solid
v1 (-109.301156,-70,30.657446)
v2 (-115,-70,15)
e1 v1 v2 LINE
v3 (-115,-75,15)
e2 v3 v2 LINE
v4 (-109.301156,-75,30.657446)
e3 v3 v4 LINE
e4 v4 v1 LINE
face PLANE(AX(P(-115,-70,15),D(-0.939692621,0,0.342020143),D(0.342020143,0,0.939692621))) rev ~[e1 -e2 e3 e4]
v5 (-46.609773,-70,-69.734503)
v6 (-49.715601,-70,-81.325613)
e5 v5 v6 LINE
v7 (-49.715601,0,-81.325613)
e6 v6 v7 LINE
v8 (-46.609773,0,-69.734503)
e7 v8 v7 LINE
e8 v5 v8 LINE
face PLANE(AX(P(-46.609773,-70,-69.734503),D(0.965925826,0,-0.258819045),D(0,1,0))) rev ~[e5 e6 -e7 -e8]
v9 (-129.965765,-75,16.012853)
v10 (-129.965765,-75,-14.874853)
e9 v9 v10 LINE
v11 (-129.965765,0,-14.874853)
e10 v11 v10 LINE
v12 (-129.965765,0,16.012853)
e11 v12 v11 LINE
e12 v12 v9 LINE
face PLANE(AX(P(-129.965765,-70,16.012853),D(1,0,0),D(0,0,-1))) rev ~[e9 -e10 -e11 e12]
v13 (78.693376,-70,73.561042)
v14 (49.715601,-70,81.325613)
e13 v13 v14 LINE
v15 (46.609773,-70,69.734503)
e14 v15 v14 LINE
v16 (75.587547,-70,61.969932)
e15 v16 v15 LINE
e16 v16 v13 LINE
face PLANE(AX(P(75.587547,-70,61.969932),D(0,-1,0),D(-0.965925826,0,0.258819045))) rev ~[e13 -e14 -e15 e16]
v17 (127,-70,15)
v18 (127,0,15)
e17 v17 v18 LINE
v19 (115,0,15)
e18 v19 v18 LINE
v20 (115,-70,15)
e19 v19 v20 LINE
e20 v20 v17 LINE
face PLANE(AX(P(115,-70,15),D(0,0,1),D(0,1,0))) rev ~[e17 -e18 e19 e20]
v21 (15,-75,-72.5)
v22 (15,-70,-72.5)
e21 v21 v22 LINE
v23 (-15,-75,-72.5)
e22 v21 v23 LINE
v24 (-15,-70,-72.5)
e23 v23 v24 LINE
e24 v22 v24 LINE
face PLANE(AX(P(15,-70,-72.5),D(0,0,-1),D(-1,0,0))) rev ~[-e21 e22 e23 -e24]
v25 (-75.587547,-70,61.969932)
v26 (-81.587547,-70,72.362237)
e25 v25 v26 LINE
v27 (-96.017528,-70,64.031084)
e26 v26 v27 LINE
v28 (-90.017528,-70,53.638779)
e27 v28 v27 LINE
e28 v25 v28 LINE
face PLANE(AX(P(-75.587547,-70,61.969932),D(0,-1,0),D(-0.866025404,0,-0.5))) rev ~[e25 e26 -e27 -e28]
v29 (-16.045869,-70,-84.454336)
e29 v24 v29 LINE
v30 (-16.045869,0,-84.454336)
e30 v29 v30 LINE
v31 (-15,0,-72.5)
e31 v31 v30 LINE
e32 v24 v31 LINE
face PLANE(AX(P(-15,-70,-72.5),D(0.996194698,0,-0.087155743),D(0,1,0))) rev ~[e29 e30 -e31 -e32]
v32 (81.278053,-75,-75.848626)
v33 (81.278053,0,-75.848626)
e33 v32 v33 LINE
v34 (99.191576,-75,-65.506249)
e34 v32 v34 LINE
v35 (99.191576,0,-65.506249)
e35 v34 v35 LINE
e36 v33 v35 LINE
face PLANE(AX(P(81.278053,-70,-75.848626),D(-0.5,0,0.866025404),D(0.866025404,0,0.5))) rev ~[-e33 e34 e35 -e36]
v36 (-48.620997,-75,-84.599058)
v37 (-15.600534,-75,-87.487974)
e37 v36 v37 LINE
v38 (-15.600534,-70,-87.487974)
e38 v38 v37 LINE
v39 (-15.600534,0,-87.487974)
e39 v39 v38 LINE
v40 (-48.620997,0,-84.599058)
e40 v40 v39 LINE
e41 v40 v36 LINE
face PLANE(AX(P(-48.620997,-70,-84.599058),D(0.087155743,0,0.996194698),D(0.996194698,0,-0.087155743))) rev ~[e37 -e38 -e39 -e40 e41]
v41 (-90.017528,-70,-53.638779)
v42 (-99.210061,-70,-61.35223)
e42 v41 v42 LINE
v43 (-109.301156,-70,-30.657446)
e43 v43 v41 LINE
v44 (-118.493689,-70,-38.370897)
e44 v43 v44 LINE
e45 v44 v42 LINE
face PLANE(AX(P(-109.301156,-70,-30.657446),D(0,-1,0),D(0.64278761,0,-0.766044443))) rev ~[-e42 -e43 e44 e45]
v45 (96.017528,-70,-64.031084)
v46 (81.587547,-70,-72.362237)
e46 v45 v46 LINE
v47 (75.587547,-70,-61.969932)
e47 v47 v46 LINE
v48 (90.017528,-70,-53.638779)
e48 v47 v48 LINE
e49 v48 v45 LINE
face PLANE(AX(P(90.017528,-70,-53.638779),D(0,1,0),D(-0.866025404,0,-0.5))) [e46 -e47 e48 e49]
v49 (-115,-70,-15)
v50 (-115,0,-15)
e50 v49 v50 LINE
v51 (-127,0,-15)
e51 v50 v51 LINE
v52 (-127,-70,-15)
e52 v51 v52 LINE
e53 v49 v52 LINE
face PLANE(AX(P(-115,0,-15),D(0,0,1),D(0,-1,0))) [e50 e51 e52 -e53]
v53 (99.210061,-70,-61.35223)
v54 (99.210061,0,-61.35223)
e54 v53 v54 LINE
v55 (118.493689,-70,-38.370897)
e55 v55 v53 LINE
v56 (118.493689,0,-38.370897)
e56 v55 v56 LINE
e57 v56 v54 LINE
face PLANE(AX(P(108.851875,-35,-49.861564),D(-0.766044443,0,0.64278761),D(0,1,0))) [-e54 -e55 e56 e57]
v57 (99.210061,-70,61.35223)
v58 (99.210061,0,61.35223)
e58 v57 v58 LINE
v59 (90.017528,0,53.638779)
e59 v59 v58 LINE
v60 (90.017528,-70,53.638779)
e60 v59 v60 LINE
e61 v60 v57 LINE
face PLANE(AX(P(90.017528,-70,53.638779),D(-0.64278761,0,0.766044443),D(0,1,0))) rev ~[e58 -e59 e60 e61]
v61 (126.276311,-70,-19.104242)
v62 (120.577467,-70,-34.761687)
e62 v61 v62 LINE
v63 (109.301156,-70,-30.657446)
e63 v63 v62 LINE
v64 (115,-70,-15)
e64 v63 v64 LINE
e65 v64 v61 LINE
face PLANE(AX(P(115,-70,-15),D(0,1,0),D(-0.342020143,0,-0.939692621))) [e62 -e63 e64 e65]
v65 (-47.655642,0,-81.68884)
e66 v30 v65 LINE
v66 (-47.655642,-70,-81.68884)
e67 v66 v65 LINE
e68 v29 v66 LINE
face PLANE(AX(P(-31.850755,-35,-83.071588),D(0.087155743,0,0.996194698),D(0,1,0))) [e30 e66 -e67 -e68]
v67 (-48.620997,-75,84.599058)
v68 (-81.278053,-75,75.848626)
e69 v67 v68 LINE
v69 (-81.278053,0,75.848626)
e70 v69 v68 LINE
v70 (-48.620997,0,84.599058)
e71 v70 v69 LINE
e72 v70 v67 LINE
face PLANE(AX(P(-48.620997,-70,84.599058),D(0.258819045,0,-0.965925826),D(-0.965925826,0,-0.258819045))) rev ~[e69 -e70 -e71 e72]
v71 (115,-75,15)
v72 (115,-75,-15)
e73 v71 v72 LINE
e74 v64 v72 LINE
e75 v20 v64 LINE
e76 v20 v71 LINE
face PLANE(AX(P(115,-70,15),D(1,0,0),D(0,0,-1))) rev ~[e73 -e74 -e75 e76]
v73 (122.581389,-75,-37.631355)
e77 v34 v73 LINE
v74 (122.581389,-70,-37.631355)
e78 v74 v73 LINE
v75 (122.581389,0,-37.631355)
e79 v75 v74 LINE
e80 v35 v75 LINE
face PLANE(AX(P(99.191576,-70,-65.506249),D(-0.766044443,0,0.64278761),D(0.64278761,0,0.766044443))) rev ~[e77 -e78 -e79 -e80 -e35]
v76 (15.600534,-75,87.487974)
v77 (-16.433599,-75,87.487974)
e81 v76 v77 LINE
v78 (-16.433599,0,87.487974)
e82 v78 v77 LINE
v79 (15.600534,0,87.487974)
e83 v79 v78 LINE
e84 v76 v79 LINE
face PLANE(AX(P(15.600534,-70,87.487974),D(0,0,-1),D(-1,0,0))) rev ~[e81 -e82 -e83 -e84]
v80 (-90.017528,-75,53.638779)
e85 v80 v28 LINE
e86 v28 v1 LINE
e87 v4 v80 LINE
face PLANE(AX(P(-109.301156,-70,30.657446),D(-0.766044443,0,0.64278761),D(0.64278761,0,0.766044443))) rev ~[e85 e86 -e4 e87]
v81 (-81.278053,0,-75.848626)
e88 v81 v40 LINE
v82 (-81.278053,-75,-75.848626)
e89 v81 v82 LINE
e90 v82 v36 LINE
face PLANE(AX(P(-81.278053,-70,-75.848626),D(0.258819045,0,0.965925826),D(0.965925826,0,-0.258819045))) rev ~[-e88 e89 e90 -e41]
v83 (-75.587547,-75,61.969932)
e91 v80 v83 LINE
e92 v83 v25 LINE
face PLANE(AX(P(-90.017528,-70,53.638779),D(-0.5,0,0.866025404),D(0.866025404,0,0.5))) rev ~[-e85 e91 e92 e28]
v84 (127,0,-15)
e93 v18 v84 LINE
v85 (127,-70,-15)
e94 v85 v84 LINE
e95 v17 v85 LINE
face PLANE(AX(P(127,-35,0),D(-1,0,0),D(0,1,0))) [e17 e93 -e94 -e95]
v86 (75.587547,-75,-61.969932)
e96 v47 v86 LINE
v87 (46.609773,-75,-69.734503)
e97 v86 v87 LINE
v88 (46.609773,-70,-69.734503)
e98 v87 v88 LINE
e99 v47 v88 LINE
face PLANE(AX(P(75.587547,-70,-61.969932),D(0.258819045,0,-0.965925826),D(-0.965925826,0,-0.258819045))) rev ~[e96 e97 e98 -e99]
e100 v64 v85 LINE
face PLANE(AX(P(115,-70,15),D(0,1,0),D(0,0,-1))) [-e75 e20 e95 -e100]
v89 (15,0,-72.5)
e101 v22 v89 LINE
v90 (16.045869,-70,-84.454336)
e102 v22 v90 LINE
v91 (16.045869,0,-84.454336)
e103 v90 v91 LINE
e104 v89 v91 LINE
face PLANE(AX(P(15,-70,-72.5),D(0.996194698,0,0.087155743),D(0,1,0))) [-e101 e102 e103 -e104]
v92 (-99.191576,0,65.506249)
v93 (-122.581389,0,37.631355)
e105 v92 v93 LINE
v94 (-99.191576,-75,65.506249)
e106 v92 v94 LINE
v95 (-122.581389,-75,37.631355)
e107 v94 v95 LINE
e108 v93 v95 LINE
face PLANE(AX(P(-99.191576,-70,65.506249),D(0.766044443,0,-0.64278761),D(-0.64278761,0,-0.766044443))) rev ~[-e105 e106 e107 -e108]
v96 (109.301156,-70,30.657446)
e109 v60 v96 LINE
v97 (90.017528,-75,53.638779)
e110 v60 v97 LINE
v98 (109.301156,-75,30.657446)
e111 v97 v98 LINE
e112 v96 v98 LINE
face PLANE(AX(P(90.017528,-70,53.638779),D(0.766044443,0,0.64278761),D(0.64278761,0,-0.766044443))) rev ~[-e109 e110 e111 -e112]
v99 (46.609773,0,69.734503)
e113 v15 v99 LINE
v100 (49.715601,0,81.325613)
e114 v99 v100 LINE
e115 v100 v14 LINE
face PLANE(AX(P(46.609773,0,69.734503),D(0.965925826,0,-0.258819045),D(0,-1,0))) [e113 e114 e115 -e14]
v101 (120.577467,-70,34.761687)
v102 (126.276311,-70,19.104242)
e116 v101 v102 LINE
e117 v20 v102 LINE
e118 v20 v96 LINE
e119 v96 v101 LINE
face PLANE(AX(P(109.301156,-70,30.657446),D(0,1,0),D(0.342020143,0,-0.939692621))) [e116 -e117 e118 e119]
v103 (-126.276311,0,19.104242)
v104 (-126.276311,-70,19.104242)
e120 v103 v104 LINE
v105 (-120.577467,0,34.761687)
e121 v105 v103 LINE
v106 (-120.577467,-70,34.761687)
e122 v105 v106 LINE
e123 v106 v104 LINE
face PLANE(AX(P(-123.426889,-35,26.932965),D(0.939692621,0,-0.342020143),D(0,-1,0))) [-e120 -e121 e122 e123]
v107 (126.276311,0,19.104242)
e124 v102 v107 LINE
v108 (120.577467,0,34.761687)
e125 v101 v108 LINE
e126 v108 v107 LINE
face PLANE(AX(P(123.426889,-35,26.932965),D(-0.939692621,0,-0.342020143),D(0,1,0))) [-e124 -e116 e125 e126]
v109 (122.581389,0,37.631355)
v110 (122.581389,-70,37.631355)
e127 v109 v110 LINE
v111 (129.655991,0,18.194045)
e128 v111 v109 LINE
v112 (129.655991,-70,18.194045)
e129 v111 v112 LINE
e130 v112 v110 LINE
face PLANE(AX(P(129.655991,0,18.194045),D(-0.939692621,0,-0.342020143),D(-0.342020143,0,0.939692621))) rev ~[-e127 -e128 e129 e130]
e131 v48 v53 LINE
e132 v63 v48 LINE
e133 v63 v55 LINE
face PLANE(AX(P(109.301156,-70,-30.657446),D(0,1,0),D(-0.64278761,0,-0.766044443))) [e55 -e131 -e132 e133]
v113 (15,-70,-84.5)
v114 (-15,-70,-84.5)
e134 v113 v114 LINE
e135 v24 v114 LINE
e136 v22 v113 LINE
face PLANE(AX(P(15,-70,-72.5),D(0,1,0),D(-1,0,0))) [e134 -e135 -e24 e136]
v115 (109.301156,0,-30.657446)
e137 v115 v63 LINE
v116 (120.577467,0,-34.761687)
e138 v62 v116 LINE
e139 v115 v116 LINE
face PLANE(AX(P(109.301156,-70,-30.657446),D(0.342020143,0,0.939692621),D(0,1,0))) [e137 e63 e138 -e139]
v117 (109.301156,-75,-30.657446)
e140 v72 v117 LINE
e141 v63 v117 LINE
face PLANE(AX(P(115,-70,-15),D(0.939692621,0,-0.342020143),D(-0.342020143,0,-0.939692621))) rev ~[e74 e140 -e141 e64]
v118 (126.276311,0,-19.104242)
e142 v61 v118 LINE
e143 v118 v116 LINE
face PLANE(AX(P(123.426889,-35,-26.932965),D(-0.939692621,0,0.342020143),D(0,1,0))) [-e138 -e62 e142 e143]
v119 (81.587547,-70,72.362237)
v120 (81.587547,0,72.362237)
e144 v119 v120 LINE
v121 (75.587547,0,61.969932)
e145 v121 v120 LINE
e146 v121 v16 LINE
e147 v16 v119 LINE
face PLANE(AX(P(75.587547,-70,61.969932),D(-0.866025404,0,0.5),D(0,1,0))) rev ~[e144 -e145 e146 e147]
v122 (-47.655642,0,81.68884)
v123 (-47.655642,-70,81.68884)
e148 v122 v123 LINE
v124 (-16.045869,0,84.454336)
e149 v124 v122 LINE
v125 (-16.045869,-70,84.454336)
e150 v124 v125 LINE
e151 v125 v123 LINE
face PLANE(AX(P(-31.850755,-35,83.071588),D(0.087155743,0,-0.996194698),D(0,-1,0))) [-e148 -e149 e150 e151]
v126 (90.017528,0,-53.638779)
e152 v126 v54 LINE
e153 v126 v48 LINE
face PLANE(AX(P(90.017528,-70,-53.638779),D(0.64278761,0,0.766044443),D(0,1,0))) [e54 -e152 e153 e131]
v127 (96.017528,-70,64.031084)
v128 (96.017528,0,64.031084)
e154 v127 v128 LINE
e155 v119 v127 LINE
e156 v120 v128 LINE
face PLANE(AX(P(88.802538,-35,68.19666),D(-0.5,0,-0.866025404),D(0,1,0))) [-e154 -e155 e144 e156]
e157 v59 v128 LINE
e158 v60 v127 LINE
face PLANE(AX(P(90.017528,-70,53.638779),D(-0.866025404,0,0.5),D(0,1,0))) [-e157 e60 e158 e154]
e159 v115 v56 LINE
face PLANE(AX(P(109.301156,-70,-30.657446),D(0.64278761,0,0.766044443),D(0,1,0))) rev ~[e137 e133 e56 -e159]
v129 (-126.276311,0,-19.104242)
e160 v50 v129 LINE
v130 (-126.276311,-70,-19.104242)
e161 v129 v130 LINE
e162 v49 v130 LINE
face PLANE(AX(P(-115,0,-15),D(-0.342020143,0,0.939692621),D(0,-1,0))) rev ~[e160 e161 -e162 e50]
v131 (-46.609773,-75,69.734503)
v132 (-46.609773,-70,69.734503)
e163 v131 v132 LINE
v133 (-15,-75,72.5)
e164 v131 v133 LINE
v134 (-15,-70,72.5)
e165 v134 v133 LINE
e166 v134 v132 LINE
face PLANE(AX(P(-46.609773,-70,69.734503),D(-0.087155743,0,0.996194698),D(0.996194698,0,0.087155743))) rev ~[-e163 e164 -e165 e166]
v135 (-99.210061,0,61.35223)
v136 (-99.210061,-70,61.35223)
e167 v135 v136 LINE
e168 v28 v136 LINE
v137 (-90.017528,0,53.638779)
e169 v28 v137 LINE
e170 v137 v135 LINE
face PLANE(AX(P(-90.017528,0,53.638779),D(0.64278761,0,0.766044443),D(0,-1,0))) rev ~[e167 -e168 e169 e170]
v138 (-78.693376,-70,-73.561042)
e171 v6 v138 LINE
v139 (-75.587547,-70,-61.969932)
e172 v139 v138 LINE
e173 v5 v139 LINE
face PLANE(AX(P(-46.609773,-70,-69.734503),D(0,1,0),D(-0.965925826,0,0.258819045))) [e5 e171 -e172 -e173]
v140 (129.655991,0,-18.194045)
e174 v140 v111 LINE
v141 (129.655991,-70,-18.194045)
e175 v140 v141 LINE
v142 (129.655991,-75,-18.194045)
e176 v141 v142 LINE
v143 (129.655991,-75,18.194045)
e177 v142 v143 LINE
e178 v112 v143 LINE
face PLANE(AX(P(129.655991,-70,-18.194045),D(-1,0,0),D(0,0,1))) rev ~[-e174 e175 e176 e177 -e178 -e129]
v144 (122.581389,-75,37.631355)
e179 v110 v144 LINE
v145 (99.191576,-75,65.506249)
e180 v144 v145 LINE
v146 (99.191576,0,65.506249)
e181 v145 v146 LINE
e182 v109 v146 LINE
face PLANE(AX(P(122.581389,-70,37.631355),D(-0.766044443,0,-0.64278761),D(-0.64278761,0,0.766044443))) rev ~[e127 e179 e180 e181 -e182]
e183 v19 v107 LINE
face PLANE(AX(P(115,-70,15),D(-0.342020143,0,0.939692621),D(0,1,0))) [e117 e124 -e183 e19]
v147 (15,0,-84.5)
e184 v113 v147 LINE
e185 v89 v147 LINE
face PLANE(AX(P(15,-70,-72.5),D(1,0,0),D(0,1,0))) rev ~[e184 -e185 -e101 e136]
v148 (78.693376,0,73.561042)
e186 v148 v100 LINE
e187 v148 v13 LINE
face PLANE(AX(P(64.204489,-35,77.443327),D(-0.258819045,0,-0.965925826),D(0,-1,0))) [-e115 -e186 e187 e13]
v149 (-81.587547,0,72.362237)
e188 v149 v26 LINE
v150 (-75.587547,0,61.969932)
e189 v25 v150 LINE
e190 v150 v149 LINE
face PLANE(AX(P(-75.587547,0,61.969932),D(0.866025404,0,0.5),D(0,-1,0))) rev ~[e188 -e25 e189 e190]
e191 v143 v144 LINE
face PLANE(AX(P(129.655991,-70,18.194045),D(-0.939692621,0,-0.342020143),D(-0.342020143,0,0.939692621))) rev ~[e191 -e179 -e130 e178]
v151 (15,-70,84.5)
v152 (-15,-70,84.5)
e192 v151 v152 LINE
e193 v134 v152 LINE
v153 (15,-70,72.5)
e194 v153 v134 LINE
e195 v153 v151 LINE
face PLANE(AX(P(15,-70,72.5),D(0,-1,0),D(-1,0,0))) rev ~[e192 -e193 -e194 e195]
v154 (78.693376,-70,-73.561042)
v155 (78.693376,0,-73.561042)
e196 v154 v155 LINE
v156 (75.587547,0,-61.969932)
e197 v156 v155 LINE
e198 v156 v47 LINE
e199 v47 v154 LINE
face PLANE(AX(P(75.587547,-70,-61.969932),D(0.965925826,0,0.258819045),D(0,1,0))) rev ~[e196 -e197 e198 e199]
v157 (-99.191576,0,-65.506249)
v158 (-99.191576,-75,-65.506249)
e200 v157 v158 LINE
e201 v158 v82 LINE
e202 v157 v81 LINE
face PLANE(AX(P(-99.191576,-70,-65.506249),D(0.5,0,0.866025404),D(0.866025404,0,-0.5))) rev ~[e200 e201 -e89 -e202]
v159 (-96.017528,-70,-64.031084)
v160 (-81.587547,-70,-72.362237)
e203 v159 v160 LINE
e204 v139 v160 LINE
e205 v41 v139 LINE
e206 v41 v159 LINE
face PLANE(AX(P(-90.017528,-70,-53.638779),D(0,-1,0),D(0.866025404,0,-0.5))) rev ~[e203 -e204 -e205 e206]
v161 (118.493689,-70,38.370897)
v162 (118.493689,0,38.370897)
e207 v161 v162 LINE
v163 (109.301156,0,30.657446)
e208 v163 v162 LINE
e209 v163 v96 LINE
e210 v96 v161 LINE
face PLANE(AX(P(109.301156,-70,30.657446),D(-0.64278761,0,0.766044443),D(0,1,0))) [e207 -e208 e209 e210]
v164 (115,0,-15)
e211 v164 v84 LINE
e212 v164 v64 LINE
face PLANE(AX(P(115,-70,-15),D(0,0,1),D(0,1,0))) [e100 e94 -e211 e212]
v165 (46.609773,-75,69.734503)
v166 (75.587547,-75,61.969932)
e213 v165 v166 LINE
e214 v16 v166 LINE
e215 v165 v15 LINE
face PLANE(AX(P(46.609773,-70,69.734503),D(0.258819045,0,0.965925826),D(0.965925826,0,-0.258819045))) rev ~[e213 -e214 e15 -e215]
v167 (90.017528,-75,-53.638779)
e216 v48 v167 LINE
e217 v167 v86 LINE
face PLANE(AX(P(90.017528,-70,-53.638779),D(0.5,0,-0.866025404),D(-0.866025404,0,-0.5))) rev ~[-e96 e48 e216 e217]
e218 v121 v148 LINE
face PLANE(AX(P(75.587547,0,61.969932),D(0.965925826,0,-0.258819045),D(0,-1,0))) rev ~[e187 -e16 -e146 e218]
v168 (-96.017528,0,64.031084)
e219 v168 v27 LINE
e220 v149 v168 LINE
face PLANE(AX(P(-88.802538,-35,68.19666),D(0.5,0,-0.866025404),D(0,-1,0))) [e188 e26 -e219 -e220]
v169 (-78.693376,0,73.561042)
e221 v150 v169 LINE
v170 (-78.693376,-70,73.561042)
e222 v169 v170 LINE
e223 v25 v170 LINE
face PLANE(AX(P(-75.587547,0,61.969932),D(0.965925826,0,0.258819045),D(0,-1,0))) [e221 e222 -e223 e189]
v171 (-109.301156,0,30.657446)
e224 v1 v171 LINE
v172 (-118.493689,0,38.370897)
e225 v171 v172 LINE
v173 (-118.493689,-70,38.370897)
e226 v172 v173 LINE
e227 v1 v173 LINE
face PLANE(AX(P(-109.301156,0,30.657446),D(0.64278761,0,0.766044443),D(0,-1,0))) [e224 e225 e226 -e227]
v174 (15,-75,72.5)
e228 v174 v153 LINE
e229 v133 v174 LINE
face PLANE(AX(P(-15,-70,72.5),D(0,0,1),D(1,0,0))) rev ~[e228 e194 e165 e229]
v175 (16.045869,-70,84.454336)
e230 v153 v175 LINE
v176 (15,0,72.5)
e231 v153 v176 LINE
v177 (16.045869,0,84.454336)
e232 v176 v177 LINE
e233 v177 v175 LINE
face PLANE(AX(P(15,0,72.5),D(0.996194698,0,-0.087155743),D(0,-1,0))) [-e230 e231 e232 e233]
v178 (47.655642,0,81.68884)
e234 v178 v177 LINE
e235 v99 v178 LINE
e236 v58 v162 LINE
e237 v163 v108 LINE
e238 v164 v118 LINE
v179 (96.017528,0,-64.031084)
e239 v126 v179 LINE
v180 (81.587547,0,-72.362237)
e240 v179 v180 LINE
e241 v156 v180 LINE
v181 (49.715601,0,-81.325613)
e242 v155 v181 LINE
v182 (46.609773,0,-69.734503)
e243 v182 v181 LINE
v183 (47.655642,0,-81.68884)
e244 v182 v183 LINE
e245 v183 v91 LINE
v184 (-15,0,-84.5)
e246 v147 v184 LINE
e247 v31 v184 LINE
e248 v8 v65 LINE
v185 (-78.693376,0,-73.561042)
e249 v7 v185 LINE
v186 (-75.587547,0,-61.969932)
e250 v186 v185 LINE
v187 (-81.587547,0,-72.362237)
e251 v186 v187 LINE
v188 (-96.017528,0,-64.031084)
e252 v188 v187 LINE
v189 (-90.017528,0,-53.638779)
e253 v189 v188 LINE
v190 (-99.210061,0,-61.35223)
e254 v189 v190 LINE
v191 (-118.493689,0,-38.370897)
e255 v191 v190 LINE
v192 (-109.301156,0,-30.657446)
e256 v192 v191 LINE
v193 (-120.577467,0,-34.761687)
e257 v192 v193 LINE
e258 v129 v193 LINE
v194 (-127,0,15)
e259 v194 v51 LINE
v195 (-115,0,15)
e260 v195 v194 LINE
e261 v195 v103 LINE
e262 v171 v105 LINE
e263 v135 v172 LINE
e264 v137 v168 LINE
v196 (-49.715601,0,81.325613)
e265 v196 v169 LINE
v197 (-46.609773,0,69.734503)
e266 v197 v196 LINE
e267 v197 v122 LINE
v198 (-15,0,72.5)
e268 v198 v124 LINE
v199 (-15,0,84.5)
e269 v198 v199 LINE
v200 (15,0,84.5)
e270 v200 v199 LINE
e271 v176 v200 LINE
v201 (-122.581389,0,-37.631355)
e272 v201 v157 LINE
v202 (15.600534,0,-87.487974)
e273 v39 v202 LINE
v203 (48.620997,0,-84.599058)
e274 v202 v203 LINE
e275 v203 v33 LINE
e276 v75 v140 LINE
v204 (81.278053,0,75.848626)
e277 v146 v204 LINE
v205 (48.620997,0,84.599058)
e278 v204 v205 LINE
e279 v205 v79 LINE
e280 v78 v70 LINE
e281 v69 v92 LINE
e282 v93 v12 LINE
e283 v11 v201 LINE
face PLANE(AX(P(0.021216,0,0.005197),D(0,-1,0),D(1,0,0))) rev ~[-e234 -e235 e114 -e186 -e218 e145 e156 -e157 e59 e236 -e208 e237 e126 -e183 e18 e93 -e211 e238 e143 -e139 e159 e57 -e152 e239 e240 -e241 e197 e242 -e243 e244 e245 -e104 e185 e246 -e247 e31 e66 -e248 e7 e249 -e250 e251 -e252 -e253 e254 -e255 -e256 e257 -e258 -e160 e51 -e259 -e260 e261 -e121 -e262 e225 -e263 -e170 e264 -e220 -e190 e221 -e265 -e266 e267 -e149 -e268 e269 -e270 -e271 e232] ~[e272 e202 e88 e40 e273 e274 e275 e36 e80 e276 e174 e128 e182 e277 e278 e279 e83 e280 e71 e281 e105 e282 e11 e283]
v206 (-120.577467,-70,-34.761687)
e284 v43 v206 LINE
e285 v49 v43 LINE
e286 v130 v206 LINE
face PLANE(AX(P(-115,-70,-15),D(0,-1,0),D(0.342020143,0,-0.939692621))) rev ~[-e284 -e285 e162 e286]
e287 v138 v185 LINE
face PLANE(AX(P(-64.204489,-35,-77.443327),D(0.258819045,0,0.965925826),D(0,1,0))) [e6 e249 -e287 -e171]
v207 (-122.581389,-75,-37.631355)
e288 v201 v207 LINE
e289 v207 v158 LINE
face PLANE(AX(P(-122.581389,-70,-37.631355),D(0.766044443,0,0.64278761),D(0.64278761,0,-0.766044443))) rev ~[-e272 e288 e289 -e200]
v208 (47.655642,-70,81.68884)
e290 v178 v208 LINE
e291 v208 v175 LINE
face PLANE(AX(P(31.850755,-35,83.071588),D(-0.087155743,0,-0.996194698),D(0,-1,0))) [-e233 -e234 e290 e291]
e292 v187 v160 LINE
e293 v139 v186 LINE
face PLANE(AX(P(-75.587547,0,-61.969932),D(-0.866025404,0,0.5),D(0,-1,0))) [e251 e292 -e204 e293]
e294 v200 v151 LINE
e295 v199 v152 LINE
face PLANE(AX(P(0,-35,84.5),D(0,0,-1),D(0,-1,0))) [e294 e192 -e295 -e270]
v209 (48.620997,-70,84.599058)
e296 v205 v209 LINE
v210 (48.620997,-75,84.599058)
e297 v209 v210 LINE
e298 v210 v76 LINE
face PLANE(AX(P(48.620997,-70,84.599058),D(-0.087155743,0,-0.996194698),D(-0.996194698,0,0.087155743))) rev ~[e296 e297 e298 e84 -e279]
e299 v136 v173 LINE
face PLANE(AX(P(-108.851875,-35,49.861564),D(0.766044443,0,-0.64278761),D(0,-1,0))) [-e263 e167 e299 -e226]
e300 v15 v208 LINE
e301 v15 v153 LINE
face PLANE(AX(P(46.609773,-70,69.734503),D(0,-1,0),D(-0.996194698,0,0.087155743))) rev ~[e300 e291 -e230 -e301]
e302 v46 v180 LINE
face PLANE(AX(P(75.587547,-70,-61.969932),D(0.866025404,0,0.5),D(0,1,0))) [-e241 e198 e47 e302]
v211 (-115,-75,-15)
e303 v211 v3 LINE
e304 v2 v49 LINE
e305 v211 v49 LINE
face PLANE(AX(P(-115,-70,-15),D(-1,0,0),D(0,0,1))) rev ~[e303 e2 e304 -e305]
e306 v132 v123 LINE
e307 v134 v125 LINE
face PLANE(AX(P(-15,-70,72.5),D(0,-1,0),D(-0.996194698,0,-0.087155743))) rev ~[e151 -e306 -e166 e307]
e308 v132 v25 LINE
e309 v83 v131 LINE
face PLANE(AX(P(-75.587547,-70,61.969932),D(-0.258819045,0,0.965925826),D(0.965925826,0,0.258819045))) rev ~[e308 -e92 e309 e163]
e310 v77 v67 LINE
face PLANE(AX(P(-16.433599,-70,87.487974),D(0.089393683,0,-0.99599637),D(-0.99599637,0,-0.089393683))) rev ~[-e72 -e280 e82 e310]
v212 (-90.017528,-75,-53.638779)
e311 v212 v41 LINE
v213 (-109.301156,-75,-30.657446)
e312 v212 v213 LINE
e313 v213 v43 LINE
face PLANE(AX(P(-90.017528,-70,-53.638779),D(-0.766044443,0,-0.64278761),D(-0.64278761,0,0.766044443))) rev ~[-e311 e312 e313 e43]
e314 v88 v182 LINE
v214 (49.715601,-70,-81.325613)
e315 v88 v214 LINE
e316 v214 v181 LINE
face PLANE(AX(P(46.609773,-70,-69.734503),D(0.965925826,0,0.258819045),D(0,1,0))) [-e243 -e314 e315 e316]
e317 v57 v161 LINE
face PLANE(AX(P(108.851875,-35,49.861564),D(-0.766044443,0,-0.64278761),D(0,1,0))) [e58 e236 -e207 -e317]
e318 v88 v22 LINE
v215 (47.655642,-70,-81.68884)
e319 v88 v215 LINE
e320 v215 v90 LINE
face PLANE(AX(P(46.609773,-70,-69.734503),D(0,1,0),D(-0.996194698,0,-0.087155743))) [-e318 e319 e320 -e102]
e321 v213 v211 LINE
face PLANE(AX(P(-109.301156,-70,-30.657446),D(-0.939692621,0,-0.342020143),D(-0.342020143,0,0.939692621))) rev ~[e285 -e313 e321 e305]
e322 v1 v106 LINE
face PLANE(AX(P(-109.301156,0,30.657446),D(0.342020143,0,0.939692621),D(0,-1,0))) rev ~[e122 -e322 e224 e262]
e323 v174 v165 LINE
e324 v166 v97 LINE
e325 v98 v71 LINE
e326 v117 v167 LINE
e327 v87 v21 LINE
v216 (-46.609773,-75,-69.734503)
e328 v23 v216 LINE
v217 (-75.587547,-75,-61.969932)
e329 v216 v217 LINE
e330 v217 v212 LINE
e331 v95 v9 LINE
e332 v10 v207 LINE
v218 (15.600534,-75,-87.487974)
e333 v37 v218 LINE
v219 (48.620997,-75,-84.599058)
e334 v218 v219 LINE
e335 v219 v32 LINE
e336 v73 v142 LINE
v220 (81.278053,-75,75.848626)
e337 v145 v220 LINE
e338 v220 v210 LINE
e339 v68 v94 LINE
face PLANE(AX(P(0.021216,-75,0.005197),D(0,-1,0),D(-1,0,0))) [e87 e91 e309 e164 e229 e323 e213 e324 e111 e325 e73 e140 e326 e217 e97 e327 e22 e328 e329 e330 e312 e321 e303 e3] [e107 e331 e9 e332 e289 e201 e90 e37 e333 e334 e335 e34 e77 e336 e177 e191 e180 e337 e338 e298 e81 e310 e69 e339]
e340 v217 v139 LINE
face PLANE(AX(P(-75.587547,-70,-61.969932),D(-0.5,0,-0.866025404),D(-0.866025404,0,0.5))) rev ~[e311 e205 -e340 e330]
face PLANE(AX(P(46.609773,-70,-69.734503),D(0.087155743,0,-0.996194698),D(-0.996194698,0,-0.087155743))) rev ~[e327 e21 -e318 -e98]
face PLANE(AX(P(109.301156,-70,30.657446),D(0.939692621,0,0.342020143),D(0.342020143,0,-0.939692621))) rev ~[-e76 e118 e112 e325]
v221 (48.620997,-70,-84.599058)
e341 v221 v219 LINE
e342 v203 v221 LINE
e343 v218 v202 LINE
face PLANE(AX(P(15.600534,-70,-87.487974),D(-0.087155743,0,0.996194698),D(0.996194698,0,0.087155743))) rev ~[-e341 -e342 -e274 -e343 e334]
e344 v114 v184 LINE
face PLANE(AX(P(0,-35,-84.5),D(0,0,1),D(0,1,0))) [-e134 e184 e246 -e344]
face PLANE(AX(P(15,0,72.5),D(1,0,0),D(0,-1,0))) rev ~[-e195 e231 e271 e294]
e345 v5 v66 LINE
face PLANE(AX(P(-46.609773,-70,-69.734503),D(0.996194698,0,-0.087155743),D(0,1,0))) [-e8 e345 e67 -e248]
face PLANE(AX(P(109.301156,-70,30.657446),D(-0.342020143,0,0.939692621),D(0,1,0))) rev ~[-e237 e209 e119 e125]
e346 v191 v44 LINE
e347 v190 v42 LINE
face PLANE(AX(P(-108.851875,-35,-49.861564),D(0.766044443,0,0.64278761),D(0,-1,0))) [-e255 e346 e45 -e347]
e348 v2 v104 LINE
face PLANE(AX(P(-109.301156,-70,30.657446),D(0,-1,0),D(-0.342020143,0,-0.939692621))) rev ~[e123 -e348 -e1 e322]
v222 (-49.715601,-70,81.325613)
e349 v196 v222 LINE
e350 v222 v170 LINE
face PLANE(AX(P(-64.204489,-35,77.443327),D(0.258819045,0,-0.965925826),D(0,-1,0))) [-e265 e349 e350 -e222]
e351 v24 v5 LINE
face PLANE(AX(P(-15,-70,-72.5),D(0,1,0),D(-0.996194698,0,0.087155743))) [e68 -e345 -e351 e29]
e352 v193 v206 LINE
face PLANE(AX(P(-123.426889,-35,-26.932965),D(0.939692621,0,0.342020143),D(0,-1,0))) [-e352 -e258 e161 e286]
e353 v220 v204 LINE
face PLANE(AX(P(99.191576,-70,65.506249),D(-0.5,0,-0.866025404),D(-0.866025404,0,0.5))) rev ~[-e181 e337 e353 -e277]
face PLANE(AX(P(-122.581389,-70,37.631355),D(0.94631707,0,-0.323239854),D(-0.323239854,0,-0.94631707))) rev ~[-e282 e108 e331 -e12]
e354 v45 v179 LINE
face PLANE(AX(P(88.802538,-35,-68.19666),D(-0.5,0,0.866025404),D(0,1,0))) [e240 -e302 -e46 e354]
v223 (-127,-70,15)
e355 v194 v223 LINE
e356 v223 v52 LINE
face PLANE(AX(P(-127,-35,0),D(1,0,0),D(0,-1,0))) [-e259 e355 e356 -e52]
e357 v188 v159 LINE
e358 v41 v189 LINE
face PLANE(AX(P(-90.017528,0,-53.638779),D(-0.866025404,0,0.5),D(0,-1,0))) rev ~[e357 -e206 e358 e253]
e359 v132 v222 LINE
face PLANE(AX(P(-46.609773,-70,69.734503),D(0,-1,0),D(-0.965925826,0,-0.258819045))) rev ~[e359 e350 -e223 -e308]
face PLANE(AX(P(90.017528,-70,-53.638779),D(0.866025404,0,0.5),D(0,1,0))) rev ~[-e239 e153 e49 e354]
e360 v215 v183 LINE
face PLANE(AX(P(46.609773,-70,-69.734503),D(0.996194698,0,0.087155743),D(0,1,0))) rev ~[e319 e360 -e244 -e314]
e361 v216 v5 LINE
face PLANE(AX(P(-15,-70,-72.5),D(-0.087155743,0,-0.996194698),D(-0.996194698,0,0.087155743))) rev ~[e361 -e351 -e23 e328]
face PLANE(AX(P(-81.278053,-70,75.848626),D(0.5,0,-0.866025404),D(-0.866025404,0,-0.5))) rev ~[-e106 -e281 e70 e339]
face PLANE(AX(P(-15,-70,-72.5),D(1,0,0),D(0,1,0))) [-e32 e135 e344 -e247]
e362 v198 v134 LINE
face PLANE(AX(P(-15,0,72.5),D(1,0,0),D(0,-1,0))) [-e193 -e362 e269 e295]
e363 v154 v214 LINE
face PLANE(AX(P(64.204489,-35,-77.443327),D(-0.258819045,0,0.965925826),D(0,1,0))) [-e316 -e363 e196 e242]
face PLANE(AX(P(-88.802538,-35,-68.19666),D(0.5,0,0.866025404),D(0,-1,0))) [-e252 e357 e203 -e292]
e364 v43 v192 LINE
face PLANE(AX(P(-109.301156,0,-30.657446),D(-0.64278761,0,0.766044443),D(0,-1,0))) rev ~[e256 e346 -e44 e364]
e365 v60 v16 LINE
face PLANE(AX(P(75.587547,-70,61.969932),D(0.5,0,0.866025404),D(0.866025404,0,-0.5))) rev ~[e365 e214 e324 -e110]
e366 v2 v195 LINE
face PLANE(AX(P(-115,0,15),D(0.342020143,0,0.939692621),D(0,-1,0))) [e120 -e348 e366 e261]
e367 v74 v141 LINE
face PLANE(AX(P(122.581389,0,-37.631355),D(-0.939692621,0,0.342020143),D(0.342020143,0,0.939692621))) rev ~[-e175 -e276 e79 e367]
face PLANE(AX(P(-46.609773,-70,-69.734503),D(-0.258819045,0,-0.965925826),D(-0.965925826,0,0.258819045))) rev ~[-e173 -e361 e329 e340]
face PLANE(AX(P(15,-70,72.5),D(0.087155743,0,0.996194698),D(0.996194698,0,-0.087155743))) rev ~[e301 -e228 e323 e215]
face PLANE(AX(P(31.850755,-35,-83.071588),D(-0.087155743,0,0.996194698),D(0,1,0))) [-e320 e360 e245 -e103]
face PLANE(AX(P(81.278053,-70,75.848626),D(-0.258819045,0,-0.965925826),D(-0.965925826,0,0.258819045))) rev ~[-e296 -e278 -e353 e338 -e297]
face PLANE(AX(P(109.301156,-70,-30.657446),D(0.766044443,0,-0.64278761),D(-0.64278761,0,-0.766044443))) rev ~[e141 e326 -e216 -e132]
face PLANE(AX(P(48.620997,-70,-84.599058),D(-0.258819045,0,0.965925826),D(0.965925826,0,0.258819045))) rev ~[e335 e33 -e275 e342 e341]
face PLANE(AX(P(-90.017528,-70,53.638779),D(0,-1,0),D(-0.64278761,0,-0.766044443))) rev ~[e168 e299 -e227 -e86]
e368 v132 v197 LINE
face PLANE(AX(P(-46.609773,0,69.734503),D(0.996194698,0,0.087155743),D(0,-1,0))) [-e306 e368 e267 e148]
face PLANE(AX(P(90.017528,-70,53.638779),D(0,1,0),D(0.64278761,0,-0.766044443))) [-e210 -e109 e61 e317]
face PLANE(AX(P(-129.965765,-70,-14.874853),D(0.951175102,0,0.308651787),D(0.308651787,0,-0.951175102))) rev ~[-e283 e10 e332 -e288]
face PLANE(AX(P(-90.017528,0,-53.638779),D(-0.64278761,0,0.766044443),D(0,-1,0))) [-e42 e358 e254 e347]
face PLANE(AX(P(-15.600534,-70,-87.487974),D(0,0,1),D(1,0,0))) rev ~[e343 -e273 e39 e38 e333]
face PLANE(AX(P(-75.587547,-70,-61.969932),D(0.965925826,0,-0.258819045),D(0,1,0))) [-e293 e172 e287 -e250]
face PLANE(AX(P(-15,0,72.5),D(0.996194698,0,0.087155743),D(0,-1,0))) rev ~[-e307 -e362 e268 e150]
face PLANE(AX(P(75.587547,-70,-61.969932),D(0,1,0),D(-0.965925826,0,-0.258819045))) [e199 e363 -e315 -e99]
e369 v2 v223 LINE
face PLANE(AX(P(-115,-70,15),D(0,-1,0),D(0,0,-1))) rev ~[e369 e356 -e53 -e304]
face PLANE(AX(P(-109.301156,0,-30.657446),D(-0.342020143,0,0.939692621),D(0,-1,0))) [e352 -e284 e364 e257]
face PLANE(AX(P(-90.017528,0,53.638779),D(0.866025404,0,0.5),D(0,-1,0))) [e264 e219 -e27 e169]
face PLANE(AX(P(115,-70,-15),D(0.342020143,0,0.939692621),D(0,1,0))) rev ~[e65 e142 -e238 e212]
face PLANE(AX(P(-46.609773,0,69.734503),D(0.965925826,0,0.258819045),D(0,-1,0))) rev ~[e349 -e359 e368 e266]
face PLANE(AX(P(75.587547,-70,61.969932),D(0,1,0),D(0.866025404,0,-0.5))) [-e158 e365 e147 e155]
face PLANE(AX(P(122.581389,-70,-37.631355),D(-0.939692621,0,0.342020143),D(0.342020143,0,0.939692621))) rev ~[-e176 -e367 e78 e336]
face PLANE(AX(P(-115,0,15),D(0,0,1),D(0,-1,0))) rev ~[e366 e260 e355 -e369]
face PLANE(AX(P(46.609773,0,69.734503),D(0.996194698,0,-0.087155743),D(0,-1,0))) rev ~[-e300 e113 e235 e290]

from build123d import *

# Parameters (mm, degrees)
PAD_DEPTH          = 70
PAD001_DEPTH       = 5
PAD001_FACE43_W    = 70
PAD001_FACE43_H    = 30
POCKET_DEPTH       = 12
POCKET_FACE41_W    = 70
POCKET_FACE41_H    = 31.7305168913
POCKET001_DEPTH    = 12
POCKET001_FACE44_W = 70
POCKET001_FACE44_H = 30
POCKET002_DEPTH    = 12
POCKET002_FACE47_W = 70
POCKET002_FACE47_H = 31.7305168913
POCKET003_DEPTH    = 12
POCKET003_FACE37_W = 70
POCKET003_FACE37_H = 16.6623057169
POCKET004_DEPTH    = 12
POCKET004_FACE36_W = 70
POCKET004_FACE36_H = 30
POCKET005_DEPTH    = 12
POCKET005_FACE35_W = 70
POCKET005_FACE35_H = 16.6623057169
POCKET006_DEPTH    = 12
POCKET006_FACE34_W = 70
POCKET006_FACE34_H = 30
POCKET007_DEPTH    = 12
POCKET007_FACE33_W = 70
POCKET007_FACE33_H = 16.6623057169
POCKET008_DEPTH    = 12
POCKET008_FACE60_W = 70
POCKET008_FACE60_H = 30
POCKET009_DEPTH    = 12
POCKET009_FACE63_W = 70
POCKET009_FACE63_H = 16.6623057169
POCKET010_DEPTH    = 12
POCKET010_FACE66_W = 70
POCKET010_FACE66_H = 30
POCKET011_DEPTH    = 12
POCKET011_FACE69_W = 70
POCKET011_FACE69_H = 16.6623057169
POCKET012_DEPTH    = 12
POCKET012_FACE72_W = 70
POCKET012_FACE72_H = 30
POCKET013_DEPTH    = 12
POCKET013_FACE75_W = 70
POCKET013_FACE75_H = 16.6623057169
POCKET014_DEPTH    = 12
POCKET014_FACE78_W = 70
POCKET014_FACE78_H = 30
POCKET015_DEPTH    = 12
POCKET015_FACE81_W = 70
POCKET015_FACE81_H = 16.6623057169
POCKET016_DEPTH    = 12
POCKET016_FACE84_W = 70
POCKET016_FACE84_H = 30
POCKET017_DEPTH    = 12
POCKET017_FACE87_W = 70
POCKET017_FACE87_H = 31.7305168913
POCKET018_DEPTH    = 12
POCKET018_FACE32_W = 70
POCKET018_FACE32_H = 30
POCKET019_DEPTH    = 12
POCKET019_FACE31_W = 70
POCKET019_FACE31_H = 16.6623057169
POCKET020_DEPTH    = 12
POCKET020_FACE30_W = 70
POCKET020_FACE30_H = 30
POCKET021_DEPTH    = 12
POCKET021_FACE29_W = 70
POCKET021_FACE29_H = 31.7305168913
POCKET022_DEPTH    = 12
POCKET022_FACE98_W = 70
POCKET022_FACE98_H = 30
POCKET023_DEPTH    = 12


with BuildPart() as part:
    # Sketch → Pad (new body)
    with BuildSketch(Plane.XZ):
        Polygon((15.6005336184, 87.4879738248), (-16.433599, 87.4879738248), (-48.6209968735, 84.5990576256), (-81.2780534486, 75.8486256891), (-99.1915759479, 65.506248652), (-122.5813887031, 37.6313552709), (-129.9657652325, 16.0128529043), (-129.9657652325, -14.874853), (-122.5813887031, -37.6313552709), (-99.1915759479, -65.506248652), (-81.2780534486, -75.8486256891), (-48.6209968735, -84.5990576256), (-15.6005336184, -87.4879738248), (15.6005336184, -87.4879738248), (48.6209968735, -84.5990576256), (81.2780534486, -75.8486256891), (99.1915759479, -65.506248652), (122.5813887031, -37.6313552709), (129.6559912563, -18.1940445045), (129.6559912563, 18.1940445045), (122.5813887031, 37.6313552709), (99.1915759479, 65.506248652), (81.2780534486, 75.8486256891), (48.6209968735, 84.5990576256), align=None)
        Polygon((-115, 15), (-115, -15), (-109.3011558106, -30.6574457275), (-90.01752752, -53.638779021), (-75.5875474835, -61.9699318795), (-46.6097726948, -69.7345032326), (-15, -72.5), (15, -72.5), (46.6097726948, -69.7345032326), (75.5875474835, -61.9699318795), (90.01752752, -53.638779021), (109.3011558106, -30.6574457275), (115, -15), (115, 15), (109.3011558106, 30.6574457275), (90.01752752, 53.638779021), (75.5875474835, 61.9699318795), (46.6097726948, 69.7345032326), (15, 72.5), (-15, 72.5), (-46.6097726948, 69.7345032326), (-75.5875474835, 61.9699318795), (-90.01752752, 53.638779021), (-109.3011558106, 30.6574457275), align=None, mode=Mode.SUBTRACT)
    extrude(amount=PAD_DEPTH)

    # Pad Face50 → Pad001 (add)
    with BuildSketch(Plane(origin=(0.0330089745, -70, 0.0202146999), x_dir=(-1, 0, 0), z_dir=(0, -1, 0))):
        Polygon((-15.5675246439, -87.4677591249), (16.4666079745, -87.4677591249), (48.654005848, -84.5788429257), (81.3110624231, -75.8284109892), (99.2245849224, -65.4860339521), (122.6143976776, -37.611140571), (129.998774207, -15.9926382044), (129.998774207, 14.8950676999), (122.6143976776, 37.6515699708), (99.2245849224, 65.5264633519), (81.3110624231, 75.868840389), (48.654005848, 84.6192723255), (15.633542593, 87.5081885247), (-15.5675246439, 87.5081885247), (-48.5879878989, 84.6192723255), (-81.2450444741, 75.868840389), (-99.1585669734, 65.5264633519), (-122.5483797286, 37.6515699708), (-129.6229822817, 18.2142592044), (-129.6229822817, -18.1738298046), (-122.5483797286, -37.611140571), (-99.1585669734, -65.4860339521), (-81.2450444741, -75.8284109892), (-48.5879878989, -84.5788429257), align=None)
        Polygon((15.0330089745, -72.4797853001), (-14.9669910255, -72.4797853001), (-46.5767637203, -69.7142885327), (-75.554538509, -61.9497171796), (-89.9845185454, -53.6185643211), (-109.268146836, -30.6372310276), (-114.9669910255, -14.9797853001), (-114.9669910255, 15.0202146999), (-109.268146836, 30.6776604274), (-89.9845185454, 53.6589937209), (-75.554538509, 61.9901465794), (-46.5767637203, 69.7547179325), (-14.9669910255, 72.5202146999), (15.0330089745, 72.5202146999), (46.6427816693, 69.7547179325), (75.620556458, 61.9901465794), (90.0505364945, 53.6589937209), (109.3341647851, 30.6776604274), (115.0330089745, 15.0202146999), (115.0330089745, -14.9797853001), (109.3341647851, -30.6372310276), (90.0505364945, -53.6185643211), (75.620556458, -61.9497171796), (46.6427816693, -69.7142885327), align=None, mode=Mode.SUBTRACT)
    extrude(amount=PAD001_DEPTH)

    # Pad001 Face43 → Pocket (cut)
    with BuildSketch(Plane(origin=(-61.0986600892, -35, -65.852217556), x_dir=(0, 1, 0), z_dir=(0.2588190451, 0, 0.9659258263))):
        Rectangle(PAD001_FACE43_W, PAD001_FACE43_H)
    extrude(amount=-POCKET_DEPTH, mode=Mode.SUBTRACT)

    # Pocket Face41 → Pocket001 (cut)
    with BuildSketch(Plane(origin=(-30.8048863474, -35, -71.1172516163), x_dir=(0, 1, 0), z_dir=(0.0871557427, 0, 0.9961946981))):
        Rectangle(POCKET_FACE41_W, POCKET_FACE41_H)
    extrude(amount=-POCKET001_DEPTH, mode=Mode.SUBTRACT)

    # Pocket001 Face44 → Pocket002 (cut)
    with BuildSketch(Plane(origin=(0, -35, -72.5), x_dir=(0, 1, 0), z_dir=(0, 0, 1))):
        Rectangle(POCKET001_FACE44_W, POCKET001_FACE44_H)
    extrude(amount=-POCKET002_DEPTH, mode=Mode.SUBTRACT)

    # Pocket002 Face47 → Pocket003 (cut)
    with BuildSketch(Plane(origin=(30.8048863474, -35, -71.1172516163), x_dir=(0, 1, 0), z_dir=(-0.0871557427, 0, 0.9961946981))):
        Rectangle(POCKET002_FACE47_W, POCKET002_FACE47_H)
    extrude(amount=-POCKET003_DEPTH, mode=Mode.SUBTRACT)

    # Pocket003 Face37 → Pocket004 (cut)
    with BuildSketch(Plane(origin=(-82.8025375017, -35, -57.8043554503), x_dir=(0, -1, 0), z_dir=(0.5, 0, 0.8660254038))):
        Rectangle(POCKET003_FACE37_W, POCKET003_FACE37_H)
    extrude(amount=-POCKET004_DEPTH, mode=Mode.SUBTRACT)

    # Pocket004 Face36 → Pocket005 (cut)
    with BuildSketch(Plane(origin=(-99.6593416653, -35, -42.1481123743), x_dir=(0, -1, 0), z_dir=(0.7660444431, 0, 0.6427876097))):
        Rectangle(POCKET004_FACE36_W, POCKET004_FACE36_H)
    extrude(amount=-POCKET005_DEPTH, mode=Mode.SUBTRACT)

    # Pocket005 Face35 → Pocket006 (cut)
    with BuildSketch(Plane(origin=(-112.1505779053, -35, -22.8287228637), x_dir=(0, -1, 0), z_dir=(0.9396926208, 0, 0.3420201433))):
        Rectangle(POCKET005_FACE35_W, POCKET005_FACE35_H)
    extrude(amount=-POCKET006_DEPTH, mode=Mode.SUBTRACT)

    # Pocket006 Face34 → Pocket007 (cut)
    with BuildSketch(Plane(origin=(-115, -35, 0), x_dir=(0, -1, 0), z_dir=(1, 0, 0))):
        Rectangle(POCKET006_FACE34_W, POCKET006_FACE34_H)
    extrude(amount=-POCKET007_DEPTH, mode=Mode.SUBTRACT)

    # Pocket007 Face33 → Pocket008 (cut)
    with BuildSketch(Plane(origin=(-112.1505779053, -35, 22.8287228637), x_dir=(0, -1, 0), z_dir=(0.9396926208, 0, -0.3420201433))):
        Rectangle(POCKET007_FACE33_W, POCKET007_FACE33_H)
    extrude(amount=-POCKET008_DEPTH, mode=Mode.SUBTRACT)

    # Pocket008 Face60 → Pocket009 (cut)
    with BuildSketch(Plane(origin=(61.0986600892, -35, -65.852217556), x_dir=(0, 1, 0), z_dir=(-0.2588190451, 0, 0.9659258263))):
        Rectangle(POCKET008_FACE60_W, POCKET008_FACE60_H)
    extrude(amount=-POCKET009_DEPTH, mode=Mode.SUBTRACT)

    # Pocket009 Face63 → Pocket010 (cut)
    with BuildSketch(Plane(origin=(82.8025375017, -35, -57.8043554503), x_dir=(0, 1, 0), z_dir=(-0.5, 0, 0.8660254038))):
        Rectangle(POCKET009_FACE63_W, POCKET009_FACE63_H)
    extrude(amount=-POCKET010_DEPTH, mode=Mode.SUBTRACT)

    # Pocket010 Face66 → Pocket011 (cut)
    with BuildSketch(Plane(origin=(99.6593416653, -35, -42.1481123743), x_dir=(0, 1, 0), z_dir=(-0.7660444431, 0, 0.6427876097))):
        Rectangle(POCKET010_FACE66_W, POCKET010_FACE66_H)
    extrude(amount=-POCKET011_DEPTH, mode=Mode.SUBTRACT)

    # Pocket011 Face69 → Pocket012 (cut)
    with BuildSketch(Plane(origin=(112.1505779053, -35, -22.8287228637), x_dir=(0, 1, 0), z_dir=(-0.9396926208, 0, 0.3420201433))):
        Rectangle(POCKET011_FACE69_W, POCKET011_FACE69_H)
    extrude(amount=-POCKET012_DEPTH, mode=Mode.SUBTRACT)

    # Pocket012 Face72 → Pocket013 (cut)
    with BuildSketch(Plane(origin=(115, -35, 0), x_dir=(0, 1, 0), z_dir=(-1, 0, 0))):
        Rectangle(POCKET012_FACE72_W, POCKET012_FACE72_H)
    extrude(amount=-POCKET013_DEPTH, mode=Mode.SUBTRACT)

    # Pocket013 Face75 → Pocket014 (cut)
    with BuildSketch(Plane(origin=(112.1505779053, -35, 22.8287228637), x_dir=(0, 1, 0), z_dir=(-0.9396926208, 0, -0.3420201433))):
        Rectangle(POCKET013_FACE75_W, POCKET013_FACE75_H)
    extrude(amount=-POCKET014_DEPTH, mode=Mode.SUBTRACT)

    # Pocket014 Face78 → Pocket015 (cut)
    with BuildSketch(Plane(origin=(99.6593416653, -35, 42.1481123743), x_dir=(0, 1, 0), z_dir=(-0.7660444431, 0, -0.6427876097))):
        Rectangle(POCKET014_FACE78_W, POCKET014_FACE78_H)
    extrude(amount=-POCKET015_DEPTH, mode=Mode.SUBTRACT)

    # Pocket015 Face81 → Pocket016 (cut)
    with BuildSketch(Plane(origin=(82.8025375017, -35, 57.8043554503), x_dir=(0, 1, 0), z_dir=(-0.5, 0, -0.8660254038))):
        Rectangle(POCKET015_FACE81_W, POCKET015_FACE81_H)
    extrude(amount=-POCKET016_DEPTH, mode=Mode.SUBTRACT)

    # Pocket016 Face84 → Pocket017 (cut)
    with BuildSketch(Plane(origin=(61.0986600892, -35, 65.852217556), x_dir=(0, -1, 0), z_dir=(-0.2588190451, 0, -0.9659258263))):
        Rectangle(POCKET016_FACE84_W, POCKET016_FACE84_H)
    extrude(amount=-POCKET017_DEPTH, mode=Mode.SUBTRACT)

    # Pocket017 Face87 → Pocket018 (cut)
    with BuildSketch(Plane(origin=(30.8048863474, -35, 71.1172516163), x_dir=(0, -1, 0), z_dir=(-0.0871557427, 0, -0.9961946981))):
        Rectangle(POCKET017_FACE87_W, POCKET017_FACE87_H)
    extrude(amount=-POCKET018_DEPTH, mode=Mode.SUBTRACT)

    # Pocket018 Face32 → Pocket019 (cut)
    with BuildSketch(Plane(origin=(-99.6593416653, -35, 42.1481123743), x_dir=(0, -1, 0), z_dir=(0.7660444431, 0, -0.6427876097))):
        Rectangle(POCKET018_FACE32_W, POCKET018_FACE32_H)
    extrude(amount=-POCKET019_DEPTH, mode=Mode.SUBTRACT)

    # Pocket019 Face31 → Pocket020 (cut)
    with BuildSketch(Plane(origin=(-82.8025375017, -35, 57.8043554503), x_dir=(0, -1, 0), z_dir=(0.5, 0, -0.8660254038))):
        Rectangle(POCKET019_FACE31_W, POCKET019_FACE31_H)
    extrude(amount=-POCKET020_DEPTH, mode=Mode.SUBTRACT)

    # Pocket020 Face30 → Pocket021 (cut)
    with BuildSketch(Plane(origin=(-61.0986600892, -35, 65.852217556), x_dir=(0, -1, 0), z_dir=(0.2588190451, 0, -0.9659258263))):
        Rectangle(POCKET020_FACE30_W, POCKET020_FACE30_H)
    extrude(amount=-POCKET021_DEPTH, mode=Mode.SUBTRACT)

    # Pocket021 Face29 → Pocket022 (cut)
    with BuildSketch(Plane(origin=(-30.8048863474, -35, 71.1172516163), x_dir=(0, -1, 0), z_dir=(0.0871557427, 0, -0.9961946981))):
        Rectangle(POCKET021_FACE29_W, POCKET021_FACE29_H)
    extrude(amount=-POCKET022_DEPTH, mode=Mode.SUBTRACT)

    # Pocket022 Face98 → Pocket023 (cut)
    with BuildSketch(Plane(origin=(0, -35, 72.5), x_dir=(0, -1, 0), z_dir=(0, 0, -1))):
        Rectangle(POCKET022_FACE98_W, POCKET022_FACE98_H)
    extrude(amount=-POCKET023_DEPTH, mode=Mode.SUBTRACT)


solid = part.part
